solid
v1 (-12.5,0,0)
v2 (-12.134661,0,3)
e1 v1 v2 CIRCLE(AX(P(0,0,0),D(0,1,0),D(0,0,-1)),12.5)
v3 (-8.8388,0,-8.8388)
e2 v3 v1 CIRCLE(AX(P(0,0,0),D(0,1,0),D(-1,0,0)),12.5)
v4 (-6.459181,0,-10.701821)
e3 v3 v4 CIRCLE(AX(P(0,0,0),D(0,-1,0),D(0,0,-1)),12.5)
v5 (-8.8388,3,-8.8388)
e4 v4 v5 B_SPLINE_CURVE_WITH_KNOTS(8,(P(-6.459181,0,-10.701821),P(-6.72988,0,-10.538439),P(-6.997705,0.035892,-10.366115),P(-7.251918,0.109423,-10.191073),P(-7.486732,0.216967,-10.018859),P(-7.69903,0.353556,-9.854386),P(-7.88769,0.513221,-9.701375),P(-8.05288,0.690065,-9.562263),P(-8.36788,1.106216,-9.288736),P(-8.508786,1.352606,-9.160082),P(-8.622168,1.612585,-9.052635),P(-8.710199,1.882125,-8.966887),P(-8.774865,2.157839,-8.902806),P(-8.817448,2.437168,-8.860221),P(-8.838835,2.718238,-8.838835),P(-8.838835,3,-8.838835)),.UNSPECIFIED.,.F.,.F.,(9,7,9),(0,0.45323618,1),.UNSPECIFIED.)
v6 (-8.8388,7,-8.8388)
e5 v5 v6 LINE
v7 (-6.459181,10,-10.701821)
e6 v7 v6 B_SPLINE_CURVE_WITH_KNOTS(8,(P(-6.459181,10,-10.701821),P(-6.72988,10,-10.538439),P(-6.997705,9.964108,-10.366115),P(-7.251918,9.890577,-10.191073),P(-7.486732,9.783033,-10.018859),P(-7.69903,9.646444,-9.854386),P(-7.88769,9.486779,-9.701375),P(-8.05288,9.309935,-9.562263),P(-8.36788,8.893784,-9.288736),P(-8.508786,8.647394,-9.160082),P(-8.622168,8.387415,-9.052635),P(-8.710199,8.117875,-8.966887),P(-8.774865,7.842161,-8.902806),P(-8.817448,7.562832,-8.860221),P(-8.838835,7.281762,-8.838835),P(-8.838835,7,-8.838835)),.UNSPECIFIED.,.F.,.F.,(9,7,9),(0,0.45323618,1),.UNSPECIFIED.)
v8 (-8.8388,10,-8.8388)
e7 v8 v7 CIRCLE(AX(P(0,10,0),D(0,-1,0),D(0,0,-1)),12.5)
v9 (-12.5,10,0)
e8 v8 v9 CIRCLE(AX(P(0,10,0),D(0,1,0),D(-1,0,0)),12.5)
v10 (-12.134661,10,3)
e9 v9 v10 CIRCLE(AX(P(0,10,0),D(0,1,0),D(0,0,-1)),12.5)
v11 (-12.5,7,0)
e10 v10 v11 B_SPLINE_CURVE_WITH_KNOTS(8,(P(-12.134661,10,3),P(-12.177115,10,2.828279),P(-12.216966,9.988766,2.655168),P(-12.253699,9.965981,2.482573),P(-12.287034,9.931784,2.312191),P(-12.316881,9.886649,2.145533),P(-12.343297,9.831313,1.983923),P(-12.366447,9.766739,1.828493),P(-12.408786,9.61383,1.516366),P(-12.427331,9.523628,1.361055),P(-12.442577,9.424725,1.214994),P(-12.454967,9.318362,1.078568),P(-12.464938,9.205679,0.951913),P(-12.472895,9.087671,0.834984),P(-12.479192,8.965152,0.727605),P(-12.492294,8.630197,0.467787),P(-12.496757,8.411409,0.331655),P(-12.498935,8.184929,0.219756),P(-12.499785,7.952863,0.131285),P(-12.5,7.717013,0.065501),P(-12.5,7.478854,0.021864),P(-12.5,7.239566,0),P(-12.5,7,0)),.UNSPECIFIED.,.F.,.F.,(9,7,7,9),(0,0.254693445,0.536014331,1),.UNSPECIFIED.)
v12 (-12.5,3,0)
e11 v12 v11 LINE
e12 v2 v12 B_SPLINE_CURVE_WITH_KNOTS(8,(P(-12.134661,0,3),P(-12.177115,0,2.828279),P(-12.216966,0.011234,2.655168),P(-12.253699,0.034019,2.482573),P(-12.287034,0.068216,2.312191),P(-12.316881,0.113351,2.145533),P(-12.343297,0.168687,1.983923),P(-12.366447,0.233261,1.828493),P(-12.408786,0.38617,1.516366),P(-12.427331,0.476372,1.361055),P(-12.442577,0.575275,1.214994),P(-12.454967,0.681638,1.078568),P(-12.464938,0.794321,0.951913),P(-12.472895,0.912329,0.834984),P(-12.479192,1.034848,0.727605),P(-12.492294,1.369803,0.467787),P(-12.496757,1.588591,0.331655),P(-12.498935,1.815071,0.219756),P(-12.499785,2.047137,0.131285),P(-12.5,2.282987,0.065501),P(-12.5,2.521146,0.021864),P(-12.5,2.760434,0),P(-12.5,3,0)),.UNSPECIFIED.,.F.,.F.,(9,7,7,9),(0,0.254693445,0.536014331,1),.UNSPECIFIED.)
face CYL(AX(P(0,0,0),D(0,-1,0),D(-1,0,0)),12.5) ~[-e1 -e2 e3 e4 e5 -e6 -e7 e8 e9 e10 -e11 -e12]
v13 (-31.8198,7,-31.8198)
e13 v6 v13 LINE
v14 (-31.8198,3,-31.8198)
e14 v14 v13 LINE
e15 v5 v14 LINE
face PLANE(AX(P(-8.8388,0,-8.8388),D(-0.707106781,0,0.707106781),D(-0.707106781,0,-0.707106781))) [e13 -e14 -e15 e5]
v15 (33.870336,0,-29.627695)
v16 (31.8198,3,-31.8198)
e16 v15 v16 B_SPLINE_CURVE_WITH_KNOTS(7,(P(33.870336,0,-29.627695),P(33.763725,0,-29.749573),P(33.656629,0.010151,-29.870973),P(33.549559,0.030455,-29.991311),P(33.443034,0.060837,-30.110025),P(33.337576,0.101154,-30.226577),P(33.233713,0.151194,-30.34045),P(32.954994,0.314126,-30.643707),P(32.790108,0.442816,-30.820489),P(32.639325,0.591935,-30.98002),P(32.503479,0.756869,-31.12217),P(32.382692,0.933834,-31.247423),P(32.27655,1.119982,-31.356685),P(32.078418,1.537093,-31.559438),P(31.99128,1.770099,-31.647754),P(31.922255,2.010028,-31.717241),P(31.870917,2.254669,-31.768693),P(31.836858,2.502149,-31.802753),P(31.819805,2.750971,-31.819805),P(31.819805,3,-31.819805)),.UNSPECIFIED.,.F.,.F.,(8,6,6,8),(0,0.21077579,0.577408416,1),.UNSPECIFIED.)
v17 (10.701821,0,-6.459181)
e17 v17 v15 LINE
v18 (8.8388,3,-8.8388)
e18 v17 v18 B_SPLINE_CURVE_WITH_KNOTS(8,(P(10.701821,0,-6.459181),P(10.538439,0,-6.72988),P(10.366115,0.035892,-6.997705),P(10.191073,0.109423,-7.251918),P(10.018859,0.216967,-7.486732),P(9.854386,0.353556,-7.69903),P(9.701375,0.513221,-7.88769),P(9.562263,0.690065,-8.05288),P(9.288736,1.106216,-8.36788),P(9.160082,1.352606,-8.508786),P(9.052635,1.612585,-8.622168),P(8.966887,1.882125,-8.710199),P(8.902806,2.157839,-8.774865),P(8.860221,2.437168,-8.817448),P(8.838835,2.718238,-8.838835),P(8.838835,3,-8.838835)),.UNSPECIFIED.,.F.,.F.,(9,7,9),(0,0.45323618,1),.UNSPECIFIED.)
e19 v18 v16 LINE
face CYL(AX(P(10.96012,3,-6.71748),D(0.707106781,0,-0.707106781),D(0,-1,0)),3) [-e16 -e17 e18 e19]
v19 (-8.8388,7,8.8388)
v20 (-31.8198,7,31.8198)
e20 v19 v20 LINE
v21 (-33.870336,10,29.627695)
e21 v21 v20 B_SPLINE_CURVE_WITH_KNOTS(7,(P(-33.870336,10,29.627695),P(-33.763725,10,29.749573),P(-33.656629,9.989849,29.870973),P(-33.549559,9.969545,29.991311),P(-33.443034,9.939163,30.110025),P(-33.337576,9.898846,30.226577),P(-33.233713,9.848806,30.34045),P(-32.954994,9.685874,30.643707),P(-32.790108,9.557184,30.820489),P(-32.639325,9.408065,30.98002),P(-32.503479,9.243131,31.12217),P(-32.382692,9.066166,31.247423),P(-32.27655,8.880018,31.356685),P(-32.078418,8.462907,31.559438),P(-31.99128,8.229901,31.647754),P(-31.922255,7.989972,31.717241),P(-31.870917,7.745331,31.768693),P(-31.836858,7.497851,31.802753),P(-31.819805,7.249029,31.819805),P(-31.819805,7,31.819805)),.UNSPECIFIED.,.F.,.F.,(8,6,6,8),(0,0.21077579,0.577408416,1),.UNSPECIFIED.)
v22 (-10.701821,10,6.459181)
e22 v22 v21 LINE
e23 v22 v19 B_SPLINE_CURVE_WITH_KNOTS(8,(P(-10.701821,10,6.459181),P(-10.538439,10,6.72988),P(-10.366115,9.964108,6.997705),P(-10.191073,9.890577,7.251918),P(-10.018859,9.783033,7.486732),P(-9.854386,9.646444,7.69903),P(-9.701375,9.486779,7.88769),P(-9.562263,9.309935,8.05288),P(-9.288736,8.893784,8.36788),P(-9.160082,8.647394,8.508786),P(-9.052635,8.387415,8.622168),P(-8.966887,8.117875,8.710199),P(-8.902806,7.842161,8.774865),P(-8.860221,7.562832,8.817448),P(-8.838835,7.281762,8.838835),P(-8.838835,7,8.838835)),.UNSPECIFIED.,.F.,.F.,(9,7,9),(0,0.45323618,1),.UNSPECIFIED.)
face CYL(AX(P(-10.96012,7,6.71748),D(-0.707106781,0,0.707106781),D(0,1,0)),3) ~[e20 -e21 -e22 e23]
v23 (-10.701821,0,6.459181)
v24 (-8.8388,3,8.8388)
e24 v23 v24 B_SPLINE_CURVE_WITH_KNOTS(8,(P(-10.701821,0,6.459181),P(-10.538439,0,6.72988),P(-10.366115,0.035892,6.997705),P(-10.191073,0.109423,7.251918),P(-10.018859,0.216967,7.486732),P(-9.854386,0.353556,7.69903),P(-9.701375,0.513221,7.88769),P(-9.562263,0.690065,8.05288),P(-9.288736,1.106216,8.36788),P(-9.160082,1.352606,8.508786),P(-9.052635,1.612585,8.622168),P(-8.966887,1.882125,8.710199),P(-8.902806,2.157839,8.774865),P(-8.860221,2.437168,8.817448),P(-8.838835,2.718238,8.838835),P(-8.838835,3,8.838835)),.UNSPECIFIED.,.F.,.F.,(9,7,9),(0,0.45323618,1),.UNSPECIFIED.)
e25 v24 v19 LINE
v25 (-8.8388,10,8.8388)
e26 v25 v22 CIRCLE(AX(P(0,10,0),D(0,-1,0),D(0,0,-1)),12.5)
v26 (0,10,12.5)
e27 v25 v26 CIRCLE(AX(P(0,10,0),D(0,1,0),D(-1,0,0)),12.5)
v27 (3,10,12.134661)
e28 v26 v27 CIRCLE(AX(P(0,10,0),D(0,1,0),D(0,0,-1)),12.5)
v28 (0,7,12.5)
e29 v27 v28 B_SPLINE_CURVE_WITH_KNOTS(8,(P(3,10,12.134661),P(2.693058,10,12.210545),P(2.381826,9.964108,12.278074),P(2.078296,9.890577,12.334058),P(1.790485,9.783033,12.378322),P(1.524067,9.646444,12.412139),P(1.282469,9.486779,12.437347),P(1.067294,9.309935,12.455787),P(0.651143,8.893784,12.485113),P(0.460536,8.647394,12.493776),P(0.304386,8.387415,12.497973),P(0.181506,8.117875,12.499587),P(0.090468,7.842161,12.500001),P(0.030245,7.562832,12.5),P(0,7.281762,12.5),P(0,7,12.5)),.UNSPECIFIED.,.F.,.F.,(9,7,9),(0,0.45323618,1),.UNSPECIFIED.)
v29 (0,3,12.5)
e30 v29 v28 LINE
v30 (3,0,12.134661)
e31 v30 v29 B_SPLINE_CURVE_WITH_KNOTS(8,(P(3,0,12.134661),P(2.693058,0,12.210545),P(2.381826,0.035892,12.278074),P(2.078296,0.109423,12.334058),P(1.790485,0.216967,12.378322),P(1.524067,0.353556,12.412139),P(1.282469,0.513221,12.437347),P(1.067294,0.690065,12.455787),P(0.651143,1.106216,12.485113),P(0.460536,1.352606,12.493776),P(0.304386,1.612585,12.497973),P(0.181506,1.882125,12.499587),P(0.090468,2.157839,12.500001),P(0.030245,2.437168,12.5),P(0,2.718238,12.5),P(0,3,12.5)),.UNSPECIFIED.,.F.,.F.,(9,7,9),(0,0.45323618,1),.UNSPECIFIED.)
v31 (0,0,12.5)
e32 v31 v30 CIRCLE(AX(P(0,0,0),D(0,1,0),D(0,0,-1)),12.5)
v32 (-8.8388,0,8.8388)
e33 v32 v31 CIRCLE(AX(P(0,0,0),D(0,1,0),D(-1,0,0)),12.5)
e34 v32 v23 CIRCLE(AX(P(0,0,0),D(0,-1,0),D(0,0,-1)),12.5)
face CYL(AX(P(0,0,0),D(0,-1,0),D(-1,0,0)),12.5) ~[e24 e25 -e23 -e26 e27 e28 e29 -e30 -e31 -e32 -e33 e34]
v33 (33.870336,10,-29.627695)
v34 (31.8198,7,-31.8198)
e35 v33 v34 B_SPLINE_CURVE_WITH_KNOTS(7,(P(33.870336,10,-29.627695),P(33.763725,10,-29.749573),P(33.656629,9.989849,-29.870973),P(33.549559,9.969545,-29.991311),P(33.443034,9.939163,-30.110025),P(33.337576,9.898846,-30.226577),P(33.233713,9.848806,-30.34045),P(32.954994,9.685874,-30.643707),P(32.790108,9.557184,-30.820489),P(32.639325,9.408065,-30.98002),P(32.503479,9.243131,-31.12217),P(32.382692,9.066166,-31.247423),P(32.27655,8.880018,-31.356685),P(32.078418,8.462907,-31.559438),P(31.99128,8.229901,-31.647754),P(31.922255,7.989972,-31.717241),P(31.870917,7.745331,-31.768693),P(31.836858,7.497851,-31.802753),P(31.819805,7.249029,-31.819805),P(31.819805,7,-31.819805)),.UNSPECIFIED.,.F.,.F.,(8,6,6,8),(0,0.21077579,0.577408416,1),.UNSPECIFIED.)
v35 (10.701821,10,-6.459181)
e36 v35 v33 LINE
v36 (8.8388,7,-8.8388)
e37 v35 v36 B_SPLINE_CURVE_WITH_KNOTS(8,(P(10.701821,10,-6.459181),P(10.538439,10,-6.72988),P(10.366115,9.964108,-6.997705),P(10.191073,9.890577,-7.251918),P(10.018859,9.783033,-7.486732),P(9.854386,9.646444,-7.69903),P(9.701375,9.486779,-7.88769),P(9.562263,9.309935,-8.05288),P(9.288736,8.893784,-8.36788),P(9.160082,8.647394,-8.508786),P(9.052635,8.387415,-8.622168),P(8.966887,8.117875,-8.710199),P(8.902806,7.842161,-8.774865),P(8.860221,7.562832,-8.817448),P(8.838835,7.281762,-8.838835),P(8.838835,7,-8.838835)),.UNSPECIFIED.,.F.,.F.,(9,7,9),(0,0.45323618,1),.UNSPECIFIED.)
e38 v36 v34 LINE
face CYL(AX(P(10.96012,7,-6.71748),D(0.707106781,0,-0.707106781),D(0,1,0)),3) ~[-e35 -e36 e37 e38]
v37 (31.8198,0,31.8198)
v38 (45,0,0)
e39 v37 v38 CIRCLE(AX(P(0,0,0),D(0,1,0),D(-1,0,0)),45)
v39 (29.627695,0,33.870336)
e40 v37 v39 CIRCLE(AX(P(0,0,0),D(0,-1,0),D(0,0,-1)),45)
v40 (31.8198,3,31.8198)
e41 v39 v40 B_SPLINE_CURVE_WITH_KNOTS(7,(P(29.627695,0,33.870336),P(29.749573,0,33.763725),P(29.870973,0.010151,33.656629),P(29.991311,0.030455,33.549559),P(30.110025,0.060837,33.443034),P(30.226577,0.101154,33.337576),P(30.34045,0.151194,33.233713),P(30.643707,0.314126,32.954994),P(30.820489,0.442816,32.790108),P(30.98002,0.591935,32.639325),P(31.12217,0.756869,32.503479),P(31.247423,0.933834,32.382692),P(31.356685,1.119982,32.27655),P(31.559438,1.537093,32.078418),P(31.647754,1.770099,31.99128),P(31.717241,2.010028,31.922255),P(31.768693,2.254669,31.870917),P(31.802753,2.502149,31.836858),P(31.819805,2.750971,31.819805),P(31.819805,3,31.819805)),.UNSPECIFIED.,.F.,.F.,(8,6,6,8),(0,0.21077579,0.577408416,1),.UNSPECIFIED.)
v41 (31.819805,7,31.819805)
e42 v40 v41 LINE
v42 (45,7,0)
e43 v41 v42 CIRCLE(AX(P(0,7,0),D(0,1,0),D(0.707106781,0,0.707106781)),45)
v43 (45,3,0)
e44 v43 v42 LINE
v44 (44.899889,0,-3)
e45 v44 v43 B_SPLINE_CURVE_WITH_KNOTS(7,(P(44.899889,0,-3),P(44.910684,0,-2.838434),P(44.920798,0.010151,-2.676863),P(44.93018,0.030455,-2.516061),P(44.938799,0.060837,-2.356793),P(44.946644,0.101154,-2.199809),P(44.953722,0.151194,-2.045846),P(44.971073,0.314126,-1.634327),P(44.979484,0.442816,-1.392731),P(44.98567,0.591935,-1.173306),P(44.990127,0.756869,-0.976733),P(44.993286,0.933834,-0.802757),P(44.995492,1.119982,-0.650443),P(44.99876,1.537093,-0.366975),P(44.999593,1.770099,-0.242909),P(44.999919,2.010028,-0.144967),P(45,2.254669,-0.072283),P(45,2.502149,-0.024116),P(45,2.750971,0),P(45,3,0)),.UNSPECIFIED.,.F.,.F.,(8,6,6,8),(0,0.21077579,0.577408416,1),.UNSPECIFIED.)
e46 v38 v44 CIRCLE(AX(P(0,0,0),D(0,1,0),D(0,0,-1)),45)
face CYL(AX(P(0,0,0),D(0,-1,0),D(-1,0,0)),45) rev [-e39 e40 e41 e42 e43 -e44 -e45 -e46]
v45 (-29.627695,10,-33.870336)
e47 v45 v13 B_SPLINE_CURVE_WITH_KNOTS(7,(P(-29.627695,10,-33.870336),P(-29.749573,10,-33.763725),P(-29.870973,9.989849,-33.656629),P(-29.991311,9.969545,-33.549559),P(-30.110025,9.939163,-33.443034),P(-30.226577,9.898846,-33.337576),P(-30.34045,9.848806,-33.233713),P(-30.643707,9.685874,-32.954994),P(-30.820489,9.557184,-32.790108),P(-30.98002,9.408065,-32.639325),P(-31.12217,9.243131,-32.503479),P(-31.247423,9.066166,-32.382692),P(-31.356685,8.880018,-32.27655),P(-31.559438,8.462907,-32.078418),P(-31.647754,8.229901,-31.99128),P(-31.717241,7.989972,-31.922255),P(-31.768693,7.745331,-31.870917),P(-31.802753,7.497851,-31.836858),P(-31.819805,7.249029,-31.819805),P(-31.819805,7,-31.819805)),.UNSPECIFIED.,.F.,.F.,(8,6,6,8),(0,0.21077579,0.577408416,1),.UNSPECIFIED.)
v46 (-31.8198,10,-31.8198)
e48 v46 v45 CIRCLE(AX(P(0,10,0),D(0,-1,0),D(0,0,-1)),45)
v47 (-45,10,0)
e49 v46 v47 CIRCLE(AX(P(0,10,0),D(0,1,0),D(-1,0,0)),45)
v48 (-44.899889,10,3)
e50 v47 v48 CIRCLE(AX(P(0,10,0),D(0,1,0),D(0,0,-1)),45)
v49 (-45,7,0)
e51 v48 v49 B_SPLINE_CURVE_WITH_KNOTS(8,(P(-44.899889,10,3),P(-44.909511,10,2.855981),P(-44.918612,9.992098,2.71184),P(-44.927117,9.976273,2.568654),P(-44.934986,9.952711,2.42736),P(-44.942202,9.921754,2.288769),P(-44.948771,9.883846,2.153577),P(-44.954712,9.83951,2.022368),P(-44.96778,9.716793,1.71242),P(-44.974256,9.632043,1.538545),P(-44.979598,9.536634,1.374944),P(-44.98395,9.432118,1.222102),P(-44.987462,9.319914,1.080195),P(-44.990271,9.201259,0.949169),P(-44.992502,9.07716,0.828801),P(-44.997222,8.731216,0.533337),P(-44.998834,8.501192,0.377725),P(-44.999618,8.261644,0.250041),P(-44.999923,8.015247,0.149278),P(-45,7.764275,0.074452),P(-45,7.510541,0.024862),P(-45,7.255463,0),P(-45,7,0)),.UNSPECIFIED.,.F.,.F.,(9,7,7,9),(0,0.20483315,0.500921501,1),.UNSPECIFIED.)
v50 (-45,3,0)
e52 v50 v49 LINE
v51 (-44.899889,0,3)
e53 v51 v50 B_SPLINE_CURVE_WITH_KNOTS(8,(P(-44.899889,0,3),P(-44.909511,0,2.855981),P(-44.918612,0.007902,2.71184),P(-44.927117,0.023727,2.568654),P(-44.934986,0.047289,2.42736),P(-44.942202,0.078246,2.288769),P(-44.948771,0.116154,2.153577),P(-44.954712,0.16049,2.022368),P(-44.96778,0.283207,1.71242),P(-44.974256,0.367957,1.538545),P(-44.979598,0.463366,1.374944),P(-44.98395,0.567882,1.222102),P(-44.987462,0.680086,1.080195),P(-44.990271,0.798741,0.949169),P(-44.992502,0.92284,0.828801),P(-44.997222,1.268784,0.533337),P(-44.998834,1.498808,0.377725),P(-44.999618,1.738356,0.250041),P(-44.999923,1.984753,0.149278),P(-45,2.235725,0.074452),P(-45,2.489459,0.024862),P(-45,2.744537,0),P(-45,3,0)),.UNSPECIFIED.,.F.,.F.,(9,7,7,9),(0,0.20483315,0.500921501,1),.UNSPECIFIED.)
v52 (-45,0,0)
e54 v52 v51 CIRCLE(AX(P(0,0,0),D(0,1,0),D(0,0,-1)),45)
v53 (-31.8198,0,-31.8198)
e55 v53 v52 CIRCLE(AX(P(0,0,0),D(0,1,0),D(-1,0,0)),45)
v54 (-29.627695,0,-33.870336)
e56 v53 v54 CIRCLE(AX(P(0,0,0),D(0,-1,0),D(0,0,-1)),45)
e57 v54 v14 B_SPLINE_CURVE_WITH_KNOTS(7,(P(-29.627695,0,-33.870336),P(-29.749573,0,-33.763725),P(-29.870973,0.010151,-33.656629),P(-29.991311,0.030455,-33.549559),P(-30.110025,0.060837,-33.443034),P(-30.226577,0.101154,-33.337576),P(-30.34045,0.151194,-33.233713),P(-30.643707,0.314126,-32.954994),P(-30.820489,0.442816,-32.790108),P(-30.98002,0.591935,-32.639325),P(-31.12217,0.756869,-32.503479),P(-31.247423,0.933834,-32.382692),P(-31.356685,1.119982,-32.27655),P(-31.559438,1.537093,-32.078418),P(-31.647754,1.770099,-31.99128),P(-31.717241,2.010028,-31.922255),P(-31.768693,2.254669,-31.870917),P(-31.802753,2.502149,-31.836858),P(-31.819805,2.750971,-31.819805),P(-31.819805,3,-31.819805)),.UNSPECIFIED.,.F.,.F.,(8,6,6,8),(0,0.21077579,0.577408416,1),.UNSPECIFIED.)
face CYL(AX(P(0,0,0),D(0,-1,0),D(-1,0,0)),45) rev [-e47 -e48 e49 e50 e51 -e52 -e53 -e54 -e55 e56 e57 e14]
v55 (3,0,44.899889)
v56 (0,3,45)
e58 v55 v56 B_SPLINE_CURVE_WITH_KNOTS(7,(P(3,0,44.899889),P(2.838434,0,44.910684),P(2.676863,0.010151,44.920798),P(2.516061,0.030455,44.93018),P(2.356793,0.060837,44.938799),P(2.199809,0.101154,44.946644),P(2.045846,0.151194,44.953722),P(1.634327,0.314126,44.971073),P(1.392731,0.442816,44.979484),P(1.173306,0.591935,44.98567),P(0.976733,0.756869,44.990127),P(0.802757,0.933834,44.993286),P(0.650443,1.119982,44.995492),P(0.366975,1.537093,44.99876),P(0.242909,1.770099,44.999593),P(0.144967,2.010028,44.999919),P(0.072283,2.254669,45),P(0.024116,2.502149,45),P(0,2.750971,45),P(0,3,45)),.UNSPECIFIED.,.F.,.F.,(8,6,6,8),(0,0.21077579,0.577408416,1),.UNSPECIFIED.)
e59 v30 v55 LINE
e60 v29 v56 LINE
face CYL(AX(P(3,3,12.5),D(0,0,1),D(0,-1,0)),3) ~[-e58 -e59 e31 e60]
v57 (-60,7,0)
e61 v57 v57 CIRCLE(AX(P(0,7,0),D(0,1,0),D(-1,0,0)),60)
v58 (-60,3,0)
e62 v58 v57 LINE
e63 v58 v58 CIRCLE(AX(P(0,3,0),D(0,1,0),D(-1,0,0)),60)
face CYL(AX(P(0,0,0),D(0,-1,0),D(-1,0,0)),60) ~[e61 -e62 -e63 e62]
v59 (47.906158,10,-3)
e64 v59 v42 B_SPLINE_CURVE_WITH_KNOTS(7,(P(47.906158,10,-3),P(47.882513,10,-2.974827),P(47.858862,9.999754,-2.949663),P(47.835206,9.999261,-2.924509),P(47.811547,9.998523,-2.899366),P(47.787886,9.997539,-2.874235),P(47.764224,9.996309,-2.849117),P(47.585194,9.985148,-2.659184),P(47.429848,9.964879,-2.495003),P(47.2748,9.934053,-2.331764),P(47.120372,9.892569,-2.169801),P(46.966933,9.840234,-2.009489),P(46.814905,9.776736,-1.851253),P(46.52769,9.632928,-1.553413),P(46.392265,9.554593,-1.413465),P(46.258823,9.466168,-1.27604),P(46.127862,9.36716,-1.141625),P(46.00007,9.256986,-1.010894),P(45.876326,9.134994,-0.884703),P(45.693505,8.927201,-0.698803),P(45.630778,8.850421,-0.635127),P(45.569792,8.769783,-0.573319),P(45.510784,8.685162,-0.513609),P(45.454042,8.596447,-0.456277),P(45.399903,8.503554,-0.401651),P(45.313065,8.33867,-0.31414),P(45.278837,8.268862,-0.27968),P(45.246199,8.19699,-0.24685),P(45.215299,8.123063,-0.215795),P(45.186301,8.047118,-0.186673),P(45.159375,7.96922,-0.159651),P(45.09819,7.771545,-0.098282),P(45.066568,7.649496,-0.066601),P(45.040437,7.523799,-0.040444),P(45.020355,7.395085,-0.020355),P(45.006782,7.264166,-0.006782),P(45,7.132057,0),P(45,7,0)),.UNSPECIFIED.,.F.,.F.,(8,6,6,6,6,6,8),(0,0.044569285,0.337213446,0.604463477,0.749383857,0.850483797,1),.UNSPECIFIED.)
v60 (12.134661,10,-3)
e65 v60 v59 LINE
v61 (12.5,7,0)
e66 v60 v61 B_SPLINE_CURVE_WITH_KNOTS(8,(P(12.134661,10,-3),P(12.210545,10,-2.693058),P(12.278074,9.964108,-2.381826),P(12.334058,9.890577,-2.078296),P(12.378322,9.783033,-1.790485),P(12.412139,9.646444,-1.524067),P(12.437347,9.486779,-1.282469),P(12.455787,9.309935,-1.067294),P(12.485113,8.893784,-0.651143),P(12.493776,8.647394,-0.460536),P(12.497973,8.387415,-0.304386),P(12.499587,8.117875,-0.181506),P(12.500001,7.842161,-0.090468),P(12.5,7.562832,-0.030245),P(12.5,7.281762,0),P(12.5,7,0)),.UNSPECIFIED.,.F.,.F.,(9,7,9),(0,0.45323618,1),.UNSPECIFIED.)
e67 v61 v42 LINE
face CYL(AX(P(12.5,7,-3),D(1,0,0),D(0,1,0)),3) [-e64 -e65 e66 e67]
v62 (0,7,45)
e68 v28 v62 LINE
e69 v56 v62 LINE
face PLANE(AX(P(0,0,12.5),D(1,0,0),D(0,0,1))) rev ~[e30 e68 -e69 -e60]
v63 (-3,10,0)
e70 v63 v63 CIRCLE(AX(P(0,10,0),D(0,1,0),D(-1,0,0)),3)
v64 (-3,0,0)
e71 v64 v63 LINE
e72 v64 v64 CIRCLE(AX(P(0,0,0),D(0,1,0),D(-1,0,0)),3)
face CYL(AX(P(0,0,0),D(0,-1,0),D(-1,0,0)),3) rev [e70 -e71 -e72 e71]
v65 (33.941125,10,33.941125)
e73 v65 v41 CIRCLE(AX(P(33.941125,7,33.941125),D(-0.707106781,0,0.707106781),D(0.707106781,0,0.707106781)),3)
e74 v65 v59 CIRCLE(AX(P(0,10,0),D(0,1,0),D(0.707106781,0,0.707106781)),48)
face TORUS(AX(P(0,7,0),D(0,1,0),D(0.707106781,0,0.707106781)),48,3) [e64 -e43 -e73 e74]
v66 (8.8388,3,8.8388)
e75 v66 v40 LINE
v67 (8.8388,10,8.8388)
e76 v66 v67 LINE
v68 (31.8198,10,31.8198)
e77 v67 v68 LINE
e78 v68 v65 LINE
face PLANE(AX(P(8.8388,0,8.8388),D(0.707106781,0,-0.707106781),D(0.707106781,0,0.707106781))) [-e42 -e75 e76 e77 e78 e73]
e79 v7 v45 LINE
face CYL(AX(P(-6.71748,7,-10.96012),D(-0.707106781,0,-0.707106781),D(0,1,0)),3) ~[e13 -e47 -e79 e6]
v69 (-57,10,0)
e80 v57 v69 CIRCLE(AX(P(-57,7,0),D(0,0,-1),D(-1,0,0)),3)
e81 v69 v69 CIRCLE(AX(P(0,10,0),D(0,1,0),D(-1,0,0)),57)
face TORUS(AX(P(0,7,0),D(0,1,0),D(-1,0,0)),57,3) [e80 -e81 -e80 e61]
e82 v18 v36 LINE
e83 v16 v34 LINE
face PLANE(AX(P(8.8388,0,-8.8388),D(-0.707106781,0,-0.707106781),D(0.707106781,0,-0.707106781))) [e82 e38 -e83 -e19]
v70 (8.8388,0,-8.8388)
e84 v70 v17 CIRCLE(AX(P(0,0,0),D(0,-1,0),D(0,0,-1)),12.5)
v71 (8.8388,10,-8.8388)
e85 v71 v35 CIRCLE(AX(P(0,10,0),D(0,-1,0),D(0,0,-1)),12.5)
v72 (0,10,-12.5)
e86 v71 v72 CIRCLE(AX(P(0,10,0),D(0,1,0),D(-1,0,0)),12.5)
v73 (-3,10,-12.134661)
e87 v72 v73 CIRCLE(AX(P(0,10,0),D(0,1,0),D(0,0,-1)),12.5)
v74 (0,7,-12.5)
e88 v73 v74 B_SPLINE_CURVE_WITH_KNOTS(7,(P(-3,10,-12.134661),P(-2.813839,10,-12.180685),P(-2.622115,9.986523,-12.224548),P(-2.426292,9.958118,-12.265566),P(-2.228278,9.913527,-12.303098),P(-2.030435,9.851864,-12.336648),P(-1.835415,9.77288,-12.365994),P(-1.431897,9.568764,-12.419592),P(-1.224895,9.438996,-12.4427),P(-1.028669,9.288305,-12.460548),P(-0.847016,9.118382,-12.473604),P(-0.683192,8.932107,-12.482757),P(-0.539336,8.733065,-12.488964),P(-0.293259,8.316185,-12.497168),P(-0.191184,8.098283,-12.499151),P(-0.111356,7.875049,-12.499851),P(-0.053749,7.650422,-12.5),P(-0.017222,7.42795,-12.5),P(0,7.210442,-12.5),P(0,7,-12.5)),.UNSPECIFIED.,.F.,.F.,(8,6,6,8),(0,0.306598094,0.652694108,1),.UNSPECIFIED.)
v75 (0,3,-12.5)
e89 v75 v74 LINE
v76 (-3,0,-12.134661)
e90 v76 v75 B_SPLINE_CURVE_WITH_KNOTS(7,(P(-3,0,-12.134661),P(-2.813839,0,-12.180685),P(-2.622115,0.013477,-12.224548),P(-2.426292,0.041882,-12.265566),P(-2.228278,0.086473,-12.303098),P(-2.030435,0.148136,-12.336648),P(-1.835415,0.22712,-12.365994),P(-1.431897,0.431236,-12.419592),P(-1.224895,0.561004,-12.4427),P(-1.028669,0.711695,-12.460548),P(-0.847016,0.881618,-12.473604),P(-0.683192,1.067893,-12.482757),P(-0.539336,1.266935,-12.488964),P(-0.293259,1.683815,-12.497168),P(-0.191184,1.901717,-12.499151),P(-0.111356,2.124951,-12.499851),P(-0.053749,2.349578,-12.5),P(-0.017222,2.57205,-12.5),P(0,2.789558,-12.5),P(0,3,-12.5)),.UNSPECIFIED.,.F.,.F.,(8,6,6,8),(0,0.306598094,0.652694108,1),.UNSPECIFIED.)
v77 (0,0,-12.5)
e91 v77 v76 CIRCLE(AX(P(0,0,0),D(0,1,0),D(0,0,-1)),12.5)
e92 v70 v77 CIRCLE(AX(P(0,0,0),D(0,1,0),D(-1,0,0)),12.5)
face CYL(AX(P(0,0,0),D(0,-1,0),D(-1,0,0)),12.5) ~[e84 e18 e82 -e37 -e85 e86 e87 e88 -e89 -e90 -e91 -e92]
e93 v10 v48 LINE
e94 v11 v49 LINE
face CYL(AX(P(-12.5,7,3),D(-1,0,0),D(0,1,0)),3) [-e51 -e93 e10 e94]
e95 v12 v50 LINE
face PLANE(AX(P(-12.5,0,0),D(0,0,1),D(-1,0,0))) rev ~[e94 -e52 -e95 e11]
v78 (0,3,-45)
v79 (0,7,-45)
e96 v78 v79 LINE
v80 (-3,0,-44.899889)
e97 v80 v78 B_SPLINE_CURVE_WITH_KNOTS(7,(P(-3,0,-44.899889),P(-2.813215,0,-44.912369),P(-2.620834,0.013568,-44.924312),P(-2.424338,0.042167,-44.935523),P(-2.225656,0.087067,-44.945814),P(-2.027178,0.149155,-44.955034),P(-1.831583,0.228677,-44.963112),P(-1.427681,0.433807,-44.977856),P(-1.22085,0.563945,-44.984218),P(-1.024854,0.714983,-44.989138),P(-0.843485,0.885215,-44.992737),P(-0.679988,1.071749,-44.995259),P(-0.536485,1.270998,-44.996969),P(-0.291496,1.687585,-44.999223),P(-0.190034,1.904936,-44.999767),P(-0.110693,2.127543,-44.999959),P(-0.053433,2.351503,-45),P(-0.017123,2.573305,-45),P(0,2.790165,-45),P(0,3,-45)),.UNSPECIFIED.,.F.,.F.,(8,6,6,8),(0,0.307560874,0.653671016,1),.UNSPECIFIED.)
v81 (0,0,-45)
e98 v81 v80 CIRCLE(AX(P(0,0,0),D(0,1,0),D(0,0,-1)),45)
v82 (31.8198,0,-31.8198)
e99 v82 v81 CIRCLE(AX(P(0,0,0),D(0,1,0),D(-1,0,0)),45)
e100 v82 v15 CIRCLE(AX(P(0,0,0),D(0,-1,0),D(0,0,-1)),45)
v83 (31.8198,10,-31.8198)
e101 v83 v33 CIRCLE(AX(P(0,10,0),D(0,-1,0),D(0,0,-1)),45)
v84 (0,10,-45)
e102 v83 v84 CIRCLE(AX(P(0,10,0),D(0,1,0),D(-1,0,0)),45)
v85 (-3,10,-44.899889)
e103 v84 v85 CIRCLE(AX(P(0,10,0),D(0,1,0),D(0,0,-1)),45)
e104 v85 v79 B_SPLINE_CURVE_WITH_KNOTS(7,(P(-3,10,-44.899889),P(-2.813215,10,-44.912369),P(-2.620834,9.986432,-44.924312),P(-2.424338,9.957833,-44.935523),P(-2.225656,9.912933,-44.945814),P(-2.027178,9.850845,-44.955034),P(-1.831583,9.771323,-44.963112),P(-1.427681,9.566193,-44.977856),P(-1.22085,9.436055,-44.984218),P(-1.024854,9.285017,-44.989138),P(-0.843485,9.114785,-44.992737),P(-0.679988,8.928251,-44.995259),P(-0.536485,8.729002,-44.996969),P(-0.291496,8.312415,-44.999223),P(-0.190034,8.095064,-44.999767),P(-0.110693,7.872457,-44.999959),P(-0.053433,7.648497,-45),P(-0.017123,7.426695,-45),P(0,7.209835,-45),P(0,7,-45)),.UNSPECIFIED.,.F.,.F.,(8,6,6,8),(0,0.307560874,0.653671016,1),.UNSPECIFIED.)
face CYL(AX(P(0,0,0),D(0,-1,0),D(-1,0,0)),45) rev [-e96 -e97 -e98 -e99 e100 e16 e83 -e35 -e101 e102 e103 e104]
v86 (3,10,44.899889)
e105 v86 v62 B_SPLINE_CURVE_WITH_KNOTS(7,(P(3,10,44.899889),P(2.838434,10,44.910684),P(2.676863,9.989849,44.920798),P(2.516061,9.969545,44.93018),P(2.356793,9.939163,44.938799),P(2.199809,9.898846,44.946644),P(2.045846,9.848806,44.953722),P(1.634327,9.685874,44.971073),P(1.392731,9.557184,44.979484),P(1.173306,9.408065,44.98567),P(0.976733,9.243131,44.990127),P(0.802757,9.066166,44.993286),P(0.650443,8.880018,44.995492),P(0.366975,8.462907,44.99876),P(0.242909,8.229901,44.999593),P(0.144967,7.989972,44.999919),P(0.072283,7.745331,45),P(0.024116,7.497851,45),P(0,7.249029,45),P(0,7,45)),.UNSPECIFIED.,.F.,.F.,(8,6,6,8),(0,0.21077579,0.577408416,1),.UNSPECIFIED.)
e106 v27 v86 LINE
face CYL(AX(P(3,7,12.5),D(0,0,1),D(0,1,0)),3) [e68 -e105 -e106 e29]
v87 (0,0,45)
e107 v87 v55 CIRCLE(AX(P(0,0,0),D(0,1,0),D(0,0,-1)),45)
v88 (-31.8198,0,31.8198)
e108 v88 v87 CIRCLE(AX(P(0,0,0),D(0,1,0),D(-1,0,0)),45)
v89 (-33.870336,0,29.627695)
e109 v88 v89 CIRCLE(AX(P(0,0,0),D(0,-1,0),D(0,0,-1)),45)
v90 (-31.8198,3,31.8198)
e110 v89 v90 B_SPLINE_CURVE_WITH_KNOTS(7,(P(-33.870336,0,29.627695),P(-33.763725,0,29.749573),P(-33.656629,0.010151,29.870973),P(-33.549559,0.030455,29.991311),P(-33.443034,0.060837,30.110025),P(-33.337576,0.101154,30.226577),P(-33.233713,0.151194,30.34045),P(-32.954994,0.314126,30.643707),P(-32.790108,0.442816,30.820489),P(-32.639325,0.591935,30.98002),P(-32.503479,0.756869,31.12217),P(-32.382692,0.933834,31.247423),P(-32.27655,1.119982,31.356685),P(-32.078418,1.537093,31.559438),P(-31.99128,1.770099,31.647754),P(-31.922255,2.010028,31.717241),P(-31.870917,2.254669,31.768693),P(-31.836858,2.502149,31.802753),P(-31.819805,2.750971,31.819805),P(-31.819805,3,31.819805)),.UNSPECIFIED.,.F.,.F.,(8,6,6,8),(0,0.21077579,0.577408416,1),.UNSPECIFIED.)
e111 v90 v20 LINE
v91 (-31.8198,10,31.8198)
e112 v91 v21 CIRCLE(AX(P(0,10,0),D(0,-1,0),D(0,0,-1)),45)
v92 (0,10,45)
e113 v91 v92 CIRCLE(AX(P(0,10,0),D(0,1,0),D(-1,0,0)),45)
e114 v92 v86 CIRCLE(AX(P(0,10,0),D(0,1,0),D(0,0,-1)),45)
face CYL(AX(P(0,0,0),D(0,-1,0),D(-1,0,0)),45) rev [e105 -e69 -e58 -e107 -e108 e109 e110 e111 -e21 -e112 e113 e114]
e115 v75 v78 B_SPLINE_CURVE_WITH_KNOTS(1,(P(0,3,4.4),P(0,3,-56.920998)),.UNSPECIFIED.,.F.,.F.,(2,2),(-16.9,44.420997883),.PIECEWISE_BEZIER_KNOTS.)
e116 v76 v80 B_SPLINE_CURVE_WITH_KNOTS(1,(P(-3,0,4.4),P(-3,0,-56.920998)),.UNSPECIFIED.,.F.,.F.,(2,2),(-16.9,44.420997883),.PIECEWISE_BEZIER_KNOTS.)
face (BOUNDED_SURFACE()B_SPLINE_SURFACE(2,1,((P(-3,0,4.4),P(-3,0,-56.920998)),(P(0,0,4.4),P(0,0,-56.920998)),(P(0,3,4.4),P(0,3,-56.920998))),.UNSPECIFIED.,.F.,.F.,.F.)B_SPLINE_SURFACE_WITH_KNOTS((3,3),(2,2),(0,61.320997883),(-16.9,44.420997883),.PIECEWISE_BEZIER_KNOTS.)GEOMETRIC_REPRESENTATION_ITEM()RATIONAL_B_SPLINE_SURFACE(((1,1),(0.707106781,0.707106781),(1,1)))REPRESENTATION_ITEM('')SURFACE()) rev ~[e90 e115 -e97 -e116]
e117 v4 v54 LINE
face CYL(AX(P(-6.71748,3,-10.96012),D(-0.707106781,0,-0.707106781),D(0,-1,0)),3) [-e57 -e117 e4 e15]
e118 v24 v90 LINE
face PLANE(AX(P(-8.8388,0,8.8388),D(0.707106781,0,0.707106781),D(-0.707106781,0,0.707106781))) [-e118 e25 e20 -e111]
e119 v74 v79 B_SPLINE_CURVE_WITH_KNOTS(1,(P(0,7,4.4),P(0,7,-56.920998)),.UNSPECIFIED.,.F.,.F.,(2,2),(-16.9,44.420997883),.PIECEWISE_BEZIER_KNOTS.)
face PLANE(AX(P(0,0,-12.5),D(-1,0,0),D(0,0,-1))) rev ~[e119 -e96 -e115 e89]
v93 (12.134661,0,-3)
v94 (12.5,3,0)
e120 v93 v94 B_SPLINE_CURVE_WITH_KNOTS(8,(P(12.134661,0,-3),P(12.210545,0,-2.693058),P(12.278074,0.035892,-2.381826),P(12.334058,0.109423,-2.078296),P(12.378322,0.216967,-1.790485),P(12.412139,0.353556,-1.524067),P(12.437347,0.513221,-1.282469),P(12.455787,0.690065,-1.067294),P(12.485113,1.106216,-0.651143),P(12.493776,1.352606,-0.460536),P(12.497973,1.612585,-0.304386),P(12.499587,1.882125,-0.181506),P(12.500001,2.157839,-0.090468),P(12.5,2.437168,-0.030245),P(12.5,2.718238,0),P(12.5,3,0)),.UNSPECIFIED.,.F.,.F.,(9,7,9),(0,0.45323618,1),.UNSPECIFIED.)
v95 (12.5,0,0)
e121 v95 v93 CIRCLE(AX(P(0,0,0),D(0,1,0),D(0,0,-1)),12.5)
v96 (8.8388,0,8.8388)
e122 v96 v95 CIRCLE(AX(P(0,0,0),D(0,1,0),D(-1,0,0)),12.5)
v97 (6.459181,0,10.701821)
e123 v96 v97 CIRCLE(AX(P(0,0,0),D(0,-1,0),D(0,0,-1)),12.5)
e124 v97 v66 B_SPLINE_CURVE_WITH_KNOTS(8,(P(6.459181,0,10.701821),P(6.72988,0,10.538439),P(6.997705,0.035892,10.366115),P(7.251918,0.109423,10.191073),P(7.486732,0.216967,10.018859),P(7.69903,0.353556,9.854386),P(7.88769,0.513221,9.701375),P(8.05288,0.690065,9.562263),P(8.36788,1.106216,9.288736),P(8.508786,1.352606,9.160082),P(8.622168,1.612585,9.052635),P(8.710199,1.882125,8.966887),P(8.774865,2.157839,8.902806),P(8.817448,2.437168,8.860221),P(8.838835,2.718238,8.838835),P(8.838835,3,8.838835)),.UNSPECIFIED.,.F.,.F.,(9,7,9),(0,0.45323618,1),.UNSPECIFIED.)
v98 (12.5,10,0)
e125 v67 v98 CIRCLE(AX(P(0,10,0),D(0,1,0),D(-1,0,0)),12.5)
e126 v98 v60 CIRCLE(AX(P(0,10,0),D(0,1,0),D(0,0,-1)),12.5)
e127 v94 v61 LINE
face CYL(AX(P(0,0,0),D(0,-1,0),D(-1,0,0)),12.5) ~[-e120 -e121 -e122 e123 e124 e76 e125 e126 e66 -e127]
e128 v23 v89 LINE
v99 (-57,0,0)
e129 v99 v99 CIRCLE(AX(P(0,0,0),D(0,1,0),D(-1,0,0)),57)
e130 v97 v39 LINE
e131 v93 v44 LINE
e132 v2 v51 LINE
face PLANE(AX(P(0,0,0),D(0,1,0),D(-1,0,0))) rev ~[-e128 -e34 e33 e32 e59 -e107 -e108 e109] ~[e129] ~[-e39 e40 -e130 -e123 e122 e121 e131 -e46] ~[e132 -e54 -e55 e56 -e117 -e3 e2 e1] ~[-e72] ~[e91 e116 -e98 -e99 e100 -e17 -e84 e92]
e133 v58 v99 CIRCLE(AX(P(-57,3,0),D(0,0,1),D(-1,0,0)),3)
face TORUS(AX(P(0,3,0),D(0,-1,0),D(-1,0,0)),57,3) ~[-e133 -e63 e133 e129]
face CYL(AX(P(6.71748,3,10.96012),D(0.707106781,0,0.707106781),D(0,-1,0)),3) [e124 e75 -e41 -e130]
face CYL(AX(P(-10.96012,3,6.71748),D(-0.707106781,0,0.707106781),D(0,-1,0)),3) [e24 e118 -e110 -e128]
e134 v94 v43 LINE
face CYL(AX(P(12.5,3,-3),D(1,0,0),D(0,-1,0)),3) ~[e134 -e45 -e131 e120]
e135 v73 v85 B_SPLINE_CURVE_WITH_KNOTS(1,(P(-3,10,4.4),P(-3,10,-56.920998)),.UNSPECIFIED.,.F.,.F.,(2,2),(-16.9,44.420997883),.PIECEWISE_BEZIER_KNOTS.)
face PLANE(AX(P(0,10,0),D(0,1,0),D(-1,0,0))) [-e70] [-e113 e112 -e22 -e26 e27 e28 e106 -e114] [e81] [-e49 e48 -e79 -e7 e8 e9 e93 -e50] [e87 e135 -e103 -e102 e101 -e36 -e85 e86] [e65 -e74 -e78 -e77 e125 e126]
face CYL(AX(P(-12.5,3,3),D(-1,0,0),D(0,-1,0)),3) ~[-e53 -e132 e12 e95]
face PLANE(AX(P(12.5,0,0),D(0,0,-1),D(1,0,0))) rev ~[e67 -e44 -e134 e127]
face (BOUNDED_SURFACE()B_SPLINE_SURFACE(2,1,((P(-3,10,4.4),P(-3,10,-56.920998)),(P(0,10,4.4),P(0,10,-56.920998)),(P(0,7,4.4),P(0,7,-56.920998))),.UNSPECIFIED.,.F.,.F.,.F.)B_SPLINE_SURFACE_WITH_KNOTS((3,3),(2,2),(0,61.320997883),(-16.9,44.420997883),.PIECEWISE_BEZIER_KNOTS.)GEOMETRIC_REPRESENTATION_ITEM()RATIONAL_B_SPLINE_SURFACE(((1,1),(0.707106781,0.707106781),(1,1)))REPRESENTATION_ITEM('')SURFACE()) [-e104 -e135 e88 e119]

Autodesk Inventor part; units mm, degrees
ref_plane "YZ Plane" through (0, 0, 0) normal (1, 0, 0) x (0, 1, 0)
ref_plane "XZ Plane" through (0, 0, 0) normal (0, 1, 0) x (-1, 0, 0)
ref_plane "XY Plane" through (0, 0, 0) normal (0, 0, 1) x (1, 0, 0)
sketch "Sketch1" plane through (0, 0, 0) normal (0, 1, 0) x (-1, 0, 0)
  circle A0 centre (0, 0) radius 3
  circle A1 centre (0, 0) radius 60
  circle A2 centre (0, 0) radius 12.5
  circle A3 centre (0, 0) radius 45
  line L0 (0, -12.5) -> (0, -45)
  line L1 (0, 12.5) -> (0, 45)
  line L2 (-12.5, 0) -> (-45, 0)
  line L3 (12.5, 0) -> (45, 0)
  line L4 (0, 0) -> (5, 0) construction
  line L5 (-8.8388, -8.8388) -> (-31.8198, -31.8198)
  line L6 (8.8388, 8.8388) -> (31.8198, 31.8198)
  line L7 (0, 0) -> (40, 0) construction
  line L8 (-8.8388, 8.8388) -> (-31.8198, 31.8198)
  line L9 (8.8388, -8.8388) -> (31.8198, -31.8198)
  dimension "d4" = 25
  dimension "d5" = 90
  dimension "d0" = 6
  dimension "d1" = 120
  dimension "d7" = 45
extrude "Extrusion1" add sketch "Sketch1" along normal blind 10 contours A1 | A2 | L3 A3 L9 A2 | A2 L6 A3 L3 | A2 L1 A3 L6 | L9 A3 L0 A2 | A2 L8 A3 L1 | L0 A3 L5 A2 | A2 L2 A3 L8 | L5 A3 L2 A2
extrude "Extrusion2" cut sketch "Sketch1" along normal blind 10 contours L3 A3 L9 A2 | A2 L1 A3 L6 | L0 A3 L5 A2 | A2 L2 A3 L8
fillet "Fillet1" radius 3 2 edges at (60, 0, 0) (60, 10, 0)
fillet "Fillet2" radius 3 16 edges at (28.75, 0, 0) (20.3293, 0, 20.3293) (-20.3293, 0, 20.3293) (-28.75, 0, 0) (-20.3293, 0, -20.3293) (0, 0, -28.75) (20.3293, 0, -20.3293) (41.5746, 10, 17.2208) (20.3293, 10, -20.3293) (0, 10, -28.75) (-20.3293, 10, -20.3293) (-28.75, 10, 0) (-20.3293, 10, 20.3293) (0, 10, 28.75) (28.75, 10, 0) (0, 0, 28.75)
properties part number "roda_mdf"
